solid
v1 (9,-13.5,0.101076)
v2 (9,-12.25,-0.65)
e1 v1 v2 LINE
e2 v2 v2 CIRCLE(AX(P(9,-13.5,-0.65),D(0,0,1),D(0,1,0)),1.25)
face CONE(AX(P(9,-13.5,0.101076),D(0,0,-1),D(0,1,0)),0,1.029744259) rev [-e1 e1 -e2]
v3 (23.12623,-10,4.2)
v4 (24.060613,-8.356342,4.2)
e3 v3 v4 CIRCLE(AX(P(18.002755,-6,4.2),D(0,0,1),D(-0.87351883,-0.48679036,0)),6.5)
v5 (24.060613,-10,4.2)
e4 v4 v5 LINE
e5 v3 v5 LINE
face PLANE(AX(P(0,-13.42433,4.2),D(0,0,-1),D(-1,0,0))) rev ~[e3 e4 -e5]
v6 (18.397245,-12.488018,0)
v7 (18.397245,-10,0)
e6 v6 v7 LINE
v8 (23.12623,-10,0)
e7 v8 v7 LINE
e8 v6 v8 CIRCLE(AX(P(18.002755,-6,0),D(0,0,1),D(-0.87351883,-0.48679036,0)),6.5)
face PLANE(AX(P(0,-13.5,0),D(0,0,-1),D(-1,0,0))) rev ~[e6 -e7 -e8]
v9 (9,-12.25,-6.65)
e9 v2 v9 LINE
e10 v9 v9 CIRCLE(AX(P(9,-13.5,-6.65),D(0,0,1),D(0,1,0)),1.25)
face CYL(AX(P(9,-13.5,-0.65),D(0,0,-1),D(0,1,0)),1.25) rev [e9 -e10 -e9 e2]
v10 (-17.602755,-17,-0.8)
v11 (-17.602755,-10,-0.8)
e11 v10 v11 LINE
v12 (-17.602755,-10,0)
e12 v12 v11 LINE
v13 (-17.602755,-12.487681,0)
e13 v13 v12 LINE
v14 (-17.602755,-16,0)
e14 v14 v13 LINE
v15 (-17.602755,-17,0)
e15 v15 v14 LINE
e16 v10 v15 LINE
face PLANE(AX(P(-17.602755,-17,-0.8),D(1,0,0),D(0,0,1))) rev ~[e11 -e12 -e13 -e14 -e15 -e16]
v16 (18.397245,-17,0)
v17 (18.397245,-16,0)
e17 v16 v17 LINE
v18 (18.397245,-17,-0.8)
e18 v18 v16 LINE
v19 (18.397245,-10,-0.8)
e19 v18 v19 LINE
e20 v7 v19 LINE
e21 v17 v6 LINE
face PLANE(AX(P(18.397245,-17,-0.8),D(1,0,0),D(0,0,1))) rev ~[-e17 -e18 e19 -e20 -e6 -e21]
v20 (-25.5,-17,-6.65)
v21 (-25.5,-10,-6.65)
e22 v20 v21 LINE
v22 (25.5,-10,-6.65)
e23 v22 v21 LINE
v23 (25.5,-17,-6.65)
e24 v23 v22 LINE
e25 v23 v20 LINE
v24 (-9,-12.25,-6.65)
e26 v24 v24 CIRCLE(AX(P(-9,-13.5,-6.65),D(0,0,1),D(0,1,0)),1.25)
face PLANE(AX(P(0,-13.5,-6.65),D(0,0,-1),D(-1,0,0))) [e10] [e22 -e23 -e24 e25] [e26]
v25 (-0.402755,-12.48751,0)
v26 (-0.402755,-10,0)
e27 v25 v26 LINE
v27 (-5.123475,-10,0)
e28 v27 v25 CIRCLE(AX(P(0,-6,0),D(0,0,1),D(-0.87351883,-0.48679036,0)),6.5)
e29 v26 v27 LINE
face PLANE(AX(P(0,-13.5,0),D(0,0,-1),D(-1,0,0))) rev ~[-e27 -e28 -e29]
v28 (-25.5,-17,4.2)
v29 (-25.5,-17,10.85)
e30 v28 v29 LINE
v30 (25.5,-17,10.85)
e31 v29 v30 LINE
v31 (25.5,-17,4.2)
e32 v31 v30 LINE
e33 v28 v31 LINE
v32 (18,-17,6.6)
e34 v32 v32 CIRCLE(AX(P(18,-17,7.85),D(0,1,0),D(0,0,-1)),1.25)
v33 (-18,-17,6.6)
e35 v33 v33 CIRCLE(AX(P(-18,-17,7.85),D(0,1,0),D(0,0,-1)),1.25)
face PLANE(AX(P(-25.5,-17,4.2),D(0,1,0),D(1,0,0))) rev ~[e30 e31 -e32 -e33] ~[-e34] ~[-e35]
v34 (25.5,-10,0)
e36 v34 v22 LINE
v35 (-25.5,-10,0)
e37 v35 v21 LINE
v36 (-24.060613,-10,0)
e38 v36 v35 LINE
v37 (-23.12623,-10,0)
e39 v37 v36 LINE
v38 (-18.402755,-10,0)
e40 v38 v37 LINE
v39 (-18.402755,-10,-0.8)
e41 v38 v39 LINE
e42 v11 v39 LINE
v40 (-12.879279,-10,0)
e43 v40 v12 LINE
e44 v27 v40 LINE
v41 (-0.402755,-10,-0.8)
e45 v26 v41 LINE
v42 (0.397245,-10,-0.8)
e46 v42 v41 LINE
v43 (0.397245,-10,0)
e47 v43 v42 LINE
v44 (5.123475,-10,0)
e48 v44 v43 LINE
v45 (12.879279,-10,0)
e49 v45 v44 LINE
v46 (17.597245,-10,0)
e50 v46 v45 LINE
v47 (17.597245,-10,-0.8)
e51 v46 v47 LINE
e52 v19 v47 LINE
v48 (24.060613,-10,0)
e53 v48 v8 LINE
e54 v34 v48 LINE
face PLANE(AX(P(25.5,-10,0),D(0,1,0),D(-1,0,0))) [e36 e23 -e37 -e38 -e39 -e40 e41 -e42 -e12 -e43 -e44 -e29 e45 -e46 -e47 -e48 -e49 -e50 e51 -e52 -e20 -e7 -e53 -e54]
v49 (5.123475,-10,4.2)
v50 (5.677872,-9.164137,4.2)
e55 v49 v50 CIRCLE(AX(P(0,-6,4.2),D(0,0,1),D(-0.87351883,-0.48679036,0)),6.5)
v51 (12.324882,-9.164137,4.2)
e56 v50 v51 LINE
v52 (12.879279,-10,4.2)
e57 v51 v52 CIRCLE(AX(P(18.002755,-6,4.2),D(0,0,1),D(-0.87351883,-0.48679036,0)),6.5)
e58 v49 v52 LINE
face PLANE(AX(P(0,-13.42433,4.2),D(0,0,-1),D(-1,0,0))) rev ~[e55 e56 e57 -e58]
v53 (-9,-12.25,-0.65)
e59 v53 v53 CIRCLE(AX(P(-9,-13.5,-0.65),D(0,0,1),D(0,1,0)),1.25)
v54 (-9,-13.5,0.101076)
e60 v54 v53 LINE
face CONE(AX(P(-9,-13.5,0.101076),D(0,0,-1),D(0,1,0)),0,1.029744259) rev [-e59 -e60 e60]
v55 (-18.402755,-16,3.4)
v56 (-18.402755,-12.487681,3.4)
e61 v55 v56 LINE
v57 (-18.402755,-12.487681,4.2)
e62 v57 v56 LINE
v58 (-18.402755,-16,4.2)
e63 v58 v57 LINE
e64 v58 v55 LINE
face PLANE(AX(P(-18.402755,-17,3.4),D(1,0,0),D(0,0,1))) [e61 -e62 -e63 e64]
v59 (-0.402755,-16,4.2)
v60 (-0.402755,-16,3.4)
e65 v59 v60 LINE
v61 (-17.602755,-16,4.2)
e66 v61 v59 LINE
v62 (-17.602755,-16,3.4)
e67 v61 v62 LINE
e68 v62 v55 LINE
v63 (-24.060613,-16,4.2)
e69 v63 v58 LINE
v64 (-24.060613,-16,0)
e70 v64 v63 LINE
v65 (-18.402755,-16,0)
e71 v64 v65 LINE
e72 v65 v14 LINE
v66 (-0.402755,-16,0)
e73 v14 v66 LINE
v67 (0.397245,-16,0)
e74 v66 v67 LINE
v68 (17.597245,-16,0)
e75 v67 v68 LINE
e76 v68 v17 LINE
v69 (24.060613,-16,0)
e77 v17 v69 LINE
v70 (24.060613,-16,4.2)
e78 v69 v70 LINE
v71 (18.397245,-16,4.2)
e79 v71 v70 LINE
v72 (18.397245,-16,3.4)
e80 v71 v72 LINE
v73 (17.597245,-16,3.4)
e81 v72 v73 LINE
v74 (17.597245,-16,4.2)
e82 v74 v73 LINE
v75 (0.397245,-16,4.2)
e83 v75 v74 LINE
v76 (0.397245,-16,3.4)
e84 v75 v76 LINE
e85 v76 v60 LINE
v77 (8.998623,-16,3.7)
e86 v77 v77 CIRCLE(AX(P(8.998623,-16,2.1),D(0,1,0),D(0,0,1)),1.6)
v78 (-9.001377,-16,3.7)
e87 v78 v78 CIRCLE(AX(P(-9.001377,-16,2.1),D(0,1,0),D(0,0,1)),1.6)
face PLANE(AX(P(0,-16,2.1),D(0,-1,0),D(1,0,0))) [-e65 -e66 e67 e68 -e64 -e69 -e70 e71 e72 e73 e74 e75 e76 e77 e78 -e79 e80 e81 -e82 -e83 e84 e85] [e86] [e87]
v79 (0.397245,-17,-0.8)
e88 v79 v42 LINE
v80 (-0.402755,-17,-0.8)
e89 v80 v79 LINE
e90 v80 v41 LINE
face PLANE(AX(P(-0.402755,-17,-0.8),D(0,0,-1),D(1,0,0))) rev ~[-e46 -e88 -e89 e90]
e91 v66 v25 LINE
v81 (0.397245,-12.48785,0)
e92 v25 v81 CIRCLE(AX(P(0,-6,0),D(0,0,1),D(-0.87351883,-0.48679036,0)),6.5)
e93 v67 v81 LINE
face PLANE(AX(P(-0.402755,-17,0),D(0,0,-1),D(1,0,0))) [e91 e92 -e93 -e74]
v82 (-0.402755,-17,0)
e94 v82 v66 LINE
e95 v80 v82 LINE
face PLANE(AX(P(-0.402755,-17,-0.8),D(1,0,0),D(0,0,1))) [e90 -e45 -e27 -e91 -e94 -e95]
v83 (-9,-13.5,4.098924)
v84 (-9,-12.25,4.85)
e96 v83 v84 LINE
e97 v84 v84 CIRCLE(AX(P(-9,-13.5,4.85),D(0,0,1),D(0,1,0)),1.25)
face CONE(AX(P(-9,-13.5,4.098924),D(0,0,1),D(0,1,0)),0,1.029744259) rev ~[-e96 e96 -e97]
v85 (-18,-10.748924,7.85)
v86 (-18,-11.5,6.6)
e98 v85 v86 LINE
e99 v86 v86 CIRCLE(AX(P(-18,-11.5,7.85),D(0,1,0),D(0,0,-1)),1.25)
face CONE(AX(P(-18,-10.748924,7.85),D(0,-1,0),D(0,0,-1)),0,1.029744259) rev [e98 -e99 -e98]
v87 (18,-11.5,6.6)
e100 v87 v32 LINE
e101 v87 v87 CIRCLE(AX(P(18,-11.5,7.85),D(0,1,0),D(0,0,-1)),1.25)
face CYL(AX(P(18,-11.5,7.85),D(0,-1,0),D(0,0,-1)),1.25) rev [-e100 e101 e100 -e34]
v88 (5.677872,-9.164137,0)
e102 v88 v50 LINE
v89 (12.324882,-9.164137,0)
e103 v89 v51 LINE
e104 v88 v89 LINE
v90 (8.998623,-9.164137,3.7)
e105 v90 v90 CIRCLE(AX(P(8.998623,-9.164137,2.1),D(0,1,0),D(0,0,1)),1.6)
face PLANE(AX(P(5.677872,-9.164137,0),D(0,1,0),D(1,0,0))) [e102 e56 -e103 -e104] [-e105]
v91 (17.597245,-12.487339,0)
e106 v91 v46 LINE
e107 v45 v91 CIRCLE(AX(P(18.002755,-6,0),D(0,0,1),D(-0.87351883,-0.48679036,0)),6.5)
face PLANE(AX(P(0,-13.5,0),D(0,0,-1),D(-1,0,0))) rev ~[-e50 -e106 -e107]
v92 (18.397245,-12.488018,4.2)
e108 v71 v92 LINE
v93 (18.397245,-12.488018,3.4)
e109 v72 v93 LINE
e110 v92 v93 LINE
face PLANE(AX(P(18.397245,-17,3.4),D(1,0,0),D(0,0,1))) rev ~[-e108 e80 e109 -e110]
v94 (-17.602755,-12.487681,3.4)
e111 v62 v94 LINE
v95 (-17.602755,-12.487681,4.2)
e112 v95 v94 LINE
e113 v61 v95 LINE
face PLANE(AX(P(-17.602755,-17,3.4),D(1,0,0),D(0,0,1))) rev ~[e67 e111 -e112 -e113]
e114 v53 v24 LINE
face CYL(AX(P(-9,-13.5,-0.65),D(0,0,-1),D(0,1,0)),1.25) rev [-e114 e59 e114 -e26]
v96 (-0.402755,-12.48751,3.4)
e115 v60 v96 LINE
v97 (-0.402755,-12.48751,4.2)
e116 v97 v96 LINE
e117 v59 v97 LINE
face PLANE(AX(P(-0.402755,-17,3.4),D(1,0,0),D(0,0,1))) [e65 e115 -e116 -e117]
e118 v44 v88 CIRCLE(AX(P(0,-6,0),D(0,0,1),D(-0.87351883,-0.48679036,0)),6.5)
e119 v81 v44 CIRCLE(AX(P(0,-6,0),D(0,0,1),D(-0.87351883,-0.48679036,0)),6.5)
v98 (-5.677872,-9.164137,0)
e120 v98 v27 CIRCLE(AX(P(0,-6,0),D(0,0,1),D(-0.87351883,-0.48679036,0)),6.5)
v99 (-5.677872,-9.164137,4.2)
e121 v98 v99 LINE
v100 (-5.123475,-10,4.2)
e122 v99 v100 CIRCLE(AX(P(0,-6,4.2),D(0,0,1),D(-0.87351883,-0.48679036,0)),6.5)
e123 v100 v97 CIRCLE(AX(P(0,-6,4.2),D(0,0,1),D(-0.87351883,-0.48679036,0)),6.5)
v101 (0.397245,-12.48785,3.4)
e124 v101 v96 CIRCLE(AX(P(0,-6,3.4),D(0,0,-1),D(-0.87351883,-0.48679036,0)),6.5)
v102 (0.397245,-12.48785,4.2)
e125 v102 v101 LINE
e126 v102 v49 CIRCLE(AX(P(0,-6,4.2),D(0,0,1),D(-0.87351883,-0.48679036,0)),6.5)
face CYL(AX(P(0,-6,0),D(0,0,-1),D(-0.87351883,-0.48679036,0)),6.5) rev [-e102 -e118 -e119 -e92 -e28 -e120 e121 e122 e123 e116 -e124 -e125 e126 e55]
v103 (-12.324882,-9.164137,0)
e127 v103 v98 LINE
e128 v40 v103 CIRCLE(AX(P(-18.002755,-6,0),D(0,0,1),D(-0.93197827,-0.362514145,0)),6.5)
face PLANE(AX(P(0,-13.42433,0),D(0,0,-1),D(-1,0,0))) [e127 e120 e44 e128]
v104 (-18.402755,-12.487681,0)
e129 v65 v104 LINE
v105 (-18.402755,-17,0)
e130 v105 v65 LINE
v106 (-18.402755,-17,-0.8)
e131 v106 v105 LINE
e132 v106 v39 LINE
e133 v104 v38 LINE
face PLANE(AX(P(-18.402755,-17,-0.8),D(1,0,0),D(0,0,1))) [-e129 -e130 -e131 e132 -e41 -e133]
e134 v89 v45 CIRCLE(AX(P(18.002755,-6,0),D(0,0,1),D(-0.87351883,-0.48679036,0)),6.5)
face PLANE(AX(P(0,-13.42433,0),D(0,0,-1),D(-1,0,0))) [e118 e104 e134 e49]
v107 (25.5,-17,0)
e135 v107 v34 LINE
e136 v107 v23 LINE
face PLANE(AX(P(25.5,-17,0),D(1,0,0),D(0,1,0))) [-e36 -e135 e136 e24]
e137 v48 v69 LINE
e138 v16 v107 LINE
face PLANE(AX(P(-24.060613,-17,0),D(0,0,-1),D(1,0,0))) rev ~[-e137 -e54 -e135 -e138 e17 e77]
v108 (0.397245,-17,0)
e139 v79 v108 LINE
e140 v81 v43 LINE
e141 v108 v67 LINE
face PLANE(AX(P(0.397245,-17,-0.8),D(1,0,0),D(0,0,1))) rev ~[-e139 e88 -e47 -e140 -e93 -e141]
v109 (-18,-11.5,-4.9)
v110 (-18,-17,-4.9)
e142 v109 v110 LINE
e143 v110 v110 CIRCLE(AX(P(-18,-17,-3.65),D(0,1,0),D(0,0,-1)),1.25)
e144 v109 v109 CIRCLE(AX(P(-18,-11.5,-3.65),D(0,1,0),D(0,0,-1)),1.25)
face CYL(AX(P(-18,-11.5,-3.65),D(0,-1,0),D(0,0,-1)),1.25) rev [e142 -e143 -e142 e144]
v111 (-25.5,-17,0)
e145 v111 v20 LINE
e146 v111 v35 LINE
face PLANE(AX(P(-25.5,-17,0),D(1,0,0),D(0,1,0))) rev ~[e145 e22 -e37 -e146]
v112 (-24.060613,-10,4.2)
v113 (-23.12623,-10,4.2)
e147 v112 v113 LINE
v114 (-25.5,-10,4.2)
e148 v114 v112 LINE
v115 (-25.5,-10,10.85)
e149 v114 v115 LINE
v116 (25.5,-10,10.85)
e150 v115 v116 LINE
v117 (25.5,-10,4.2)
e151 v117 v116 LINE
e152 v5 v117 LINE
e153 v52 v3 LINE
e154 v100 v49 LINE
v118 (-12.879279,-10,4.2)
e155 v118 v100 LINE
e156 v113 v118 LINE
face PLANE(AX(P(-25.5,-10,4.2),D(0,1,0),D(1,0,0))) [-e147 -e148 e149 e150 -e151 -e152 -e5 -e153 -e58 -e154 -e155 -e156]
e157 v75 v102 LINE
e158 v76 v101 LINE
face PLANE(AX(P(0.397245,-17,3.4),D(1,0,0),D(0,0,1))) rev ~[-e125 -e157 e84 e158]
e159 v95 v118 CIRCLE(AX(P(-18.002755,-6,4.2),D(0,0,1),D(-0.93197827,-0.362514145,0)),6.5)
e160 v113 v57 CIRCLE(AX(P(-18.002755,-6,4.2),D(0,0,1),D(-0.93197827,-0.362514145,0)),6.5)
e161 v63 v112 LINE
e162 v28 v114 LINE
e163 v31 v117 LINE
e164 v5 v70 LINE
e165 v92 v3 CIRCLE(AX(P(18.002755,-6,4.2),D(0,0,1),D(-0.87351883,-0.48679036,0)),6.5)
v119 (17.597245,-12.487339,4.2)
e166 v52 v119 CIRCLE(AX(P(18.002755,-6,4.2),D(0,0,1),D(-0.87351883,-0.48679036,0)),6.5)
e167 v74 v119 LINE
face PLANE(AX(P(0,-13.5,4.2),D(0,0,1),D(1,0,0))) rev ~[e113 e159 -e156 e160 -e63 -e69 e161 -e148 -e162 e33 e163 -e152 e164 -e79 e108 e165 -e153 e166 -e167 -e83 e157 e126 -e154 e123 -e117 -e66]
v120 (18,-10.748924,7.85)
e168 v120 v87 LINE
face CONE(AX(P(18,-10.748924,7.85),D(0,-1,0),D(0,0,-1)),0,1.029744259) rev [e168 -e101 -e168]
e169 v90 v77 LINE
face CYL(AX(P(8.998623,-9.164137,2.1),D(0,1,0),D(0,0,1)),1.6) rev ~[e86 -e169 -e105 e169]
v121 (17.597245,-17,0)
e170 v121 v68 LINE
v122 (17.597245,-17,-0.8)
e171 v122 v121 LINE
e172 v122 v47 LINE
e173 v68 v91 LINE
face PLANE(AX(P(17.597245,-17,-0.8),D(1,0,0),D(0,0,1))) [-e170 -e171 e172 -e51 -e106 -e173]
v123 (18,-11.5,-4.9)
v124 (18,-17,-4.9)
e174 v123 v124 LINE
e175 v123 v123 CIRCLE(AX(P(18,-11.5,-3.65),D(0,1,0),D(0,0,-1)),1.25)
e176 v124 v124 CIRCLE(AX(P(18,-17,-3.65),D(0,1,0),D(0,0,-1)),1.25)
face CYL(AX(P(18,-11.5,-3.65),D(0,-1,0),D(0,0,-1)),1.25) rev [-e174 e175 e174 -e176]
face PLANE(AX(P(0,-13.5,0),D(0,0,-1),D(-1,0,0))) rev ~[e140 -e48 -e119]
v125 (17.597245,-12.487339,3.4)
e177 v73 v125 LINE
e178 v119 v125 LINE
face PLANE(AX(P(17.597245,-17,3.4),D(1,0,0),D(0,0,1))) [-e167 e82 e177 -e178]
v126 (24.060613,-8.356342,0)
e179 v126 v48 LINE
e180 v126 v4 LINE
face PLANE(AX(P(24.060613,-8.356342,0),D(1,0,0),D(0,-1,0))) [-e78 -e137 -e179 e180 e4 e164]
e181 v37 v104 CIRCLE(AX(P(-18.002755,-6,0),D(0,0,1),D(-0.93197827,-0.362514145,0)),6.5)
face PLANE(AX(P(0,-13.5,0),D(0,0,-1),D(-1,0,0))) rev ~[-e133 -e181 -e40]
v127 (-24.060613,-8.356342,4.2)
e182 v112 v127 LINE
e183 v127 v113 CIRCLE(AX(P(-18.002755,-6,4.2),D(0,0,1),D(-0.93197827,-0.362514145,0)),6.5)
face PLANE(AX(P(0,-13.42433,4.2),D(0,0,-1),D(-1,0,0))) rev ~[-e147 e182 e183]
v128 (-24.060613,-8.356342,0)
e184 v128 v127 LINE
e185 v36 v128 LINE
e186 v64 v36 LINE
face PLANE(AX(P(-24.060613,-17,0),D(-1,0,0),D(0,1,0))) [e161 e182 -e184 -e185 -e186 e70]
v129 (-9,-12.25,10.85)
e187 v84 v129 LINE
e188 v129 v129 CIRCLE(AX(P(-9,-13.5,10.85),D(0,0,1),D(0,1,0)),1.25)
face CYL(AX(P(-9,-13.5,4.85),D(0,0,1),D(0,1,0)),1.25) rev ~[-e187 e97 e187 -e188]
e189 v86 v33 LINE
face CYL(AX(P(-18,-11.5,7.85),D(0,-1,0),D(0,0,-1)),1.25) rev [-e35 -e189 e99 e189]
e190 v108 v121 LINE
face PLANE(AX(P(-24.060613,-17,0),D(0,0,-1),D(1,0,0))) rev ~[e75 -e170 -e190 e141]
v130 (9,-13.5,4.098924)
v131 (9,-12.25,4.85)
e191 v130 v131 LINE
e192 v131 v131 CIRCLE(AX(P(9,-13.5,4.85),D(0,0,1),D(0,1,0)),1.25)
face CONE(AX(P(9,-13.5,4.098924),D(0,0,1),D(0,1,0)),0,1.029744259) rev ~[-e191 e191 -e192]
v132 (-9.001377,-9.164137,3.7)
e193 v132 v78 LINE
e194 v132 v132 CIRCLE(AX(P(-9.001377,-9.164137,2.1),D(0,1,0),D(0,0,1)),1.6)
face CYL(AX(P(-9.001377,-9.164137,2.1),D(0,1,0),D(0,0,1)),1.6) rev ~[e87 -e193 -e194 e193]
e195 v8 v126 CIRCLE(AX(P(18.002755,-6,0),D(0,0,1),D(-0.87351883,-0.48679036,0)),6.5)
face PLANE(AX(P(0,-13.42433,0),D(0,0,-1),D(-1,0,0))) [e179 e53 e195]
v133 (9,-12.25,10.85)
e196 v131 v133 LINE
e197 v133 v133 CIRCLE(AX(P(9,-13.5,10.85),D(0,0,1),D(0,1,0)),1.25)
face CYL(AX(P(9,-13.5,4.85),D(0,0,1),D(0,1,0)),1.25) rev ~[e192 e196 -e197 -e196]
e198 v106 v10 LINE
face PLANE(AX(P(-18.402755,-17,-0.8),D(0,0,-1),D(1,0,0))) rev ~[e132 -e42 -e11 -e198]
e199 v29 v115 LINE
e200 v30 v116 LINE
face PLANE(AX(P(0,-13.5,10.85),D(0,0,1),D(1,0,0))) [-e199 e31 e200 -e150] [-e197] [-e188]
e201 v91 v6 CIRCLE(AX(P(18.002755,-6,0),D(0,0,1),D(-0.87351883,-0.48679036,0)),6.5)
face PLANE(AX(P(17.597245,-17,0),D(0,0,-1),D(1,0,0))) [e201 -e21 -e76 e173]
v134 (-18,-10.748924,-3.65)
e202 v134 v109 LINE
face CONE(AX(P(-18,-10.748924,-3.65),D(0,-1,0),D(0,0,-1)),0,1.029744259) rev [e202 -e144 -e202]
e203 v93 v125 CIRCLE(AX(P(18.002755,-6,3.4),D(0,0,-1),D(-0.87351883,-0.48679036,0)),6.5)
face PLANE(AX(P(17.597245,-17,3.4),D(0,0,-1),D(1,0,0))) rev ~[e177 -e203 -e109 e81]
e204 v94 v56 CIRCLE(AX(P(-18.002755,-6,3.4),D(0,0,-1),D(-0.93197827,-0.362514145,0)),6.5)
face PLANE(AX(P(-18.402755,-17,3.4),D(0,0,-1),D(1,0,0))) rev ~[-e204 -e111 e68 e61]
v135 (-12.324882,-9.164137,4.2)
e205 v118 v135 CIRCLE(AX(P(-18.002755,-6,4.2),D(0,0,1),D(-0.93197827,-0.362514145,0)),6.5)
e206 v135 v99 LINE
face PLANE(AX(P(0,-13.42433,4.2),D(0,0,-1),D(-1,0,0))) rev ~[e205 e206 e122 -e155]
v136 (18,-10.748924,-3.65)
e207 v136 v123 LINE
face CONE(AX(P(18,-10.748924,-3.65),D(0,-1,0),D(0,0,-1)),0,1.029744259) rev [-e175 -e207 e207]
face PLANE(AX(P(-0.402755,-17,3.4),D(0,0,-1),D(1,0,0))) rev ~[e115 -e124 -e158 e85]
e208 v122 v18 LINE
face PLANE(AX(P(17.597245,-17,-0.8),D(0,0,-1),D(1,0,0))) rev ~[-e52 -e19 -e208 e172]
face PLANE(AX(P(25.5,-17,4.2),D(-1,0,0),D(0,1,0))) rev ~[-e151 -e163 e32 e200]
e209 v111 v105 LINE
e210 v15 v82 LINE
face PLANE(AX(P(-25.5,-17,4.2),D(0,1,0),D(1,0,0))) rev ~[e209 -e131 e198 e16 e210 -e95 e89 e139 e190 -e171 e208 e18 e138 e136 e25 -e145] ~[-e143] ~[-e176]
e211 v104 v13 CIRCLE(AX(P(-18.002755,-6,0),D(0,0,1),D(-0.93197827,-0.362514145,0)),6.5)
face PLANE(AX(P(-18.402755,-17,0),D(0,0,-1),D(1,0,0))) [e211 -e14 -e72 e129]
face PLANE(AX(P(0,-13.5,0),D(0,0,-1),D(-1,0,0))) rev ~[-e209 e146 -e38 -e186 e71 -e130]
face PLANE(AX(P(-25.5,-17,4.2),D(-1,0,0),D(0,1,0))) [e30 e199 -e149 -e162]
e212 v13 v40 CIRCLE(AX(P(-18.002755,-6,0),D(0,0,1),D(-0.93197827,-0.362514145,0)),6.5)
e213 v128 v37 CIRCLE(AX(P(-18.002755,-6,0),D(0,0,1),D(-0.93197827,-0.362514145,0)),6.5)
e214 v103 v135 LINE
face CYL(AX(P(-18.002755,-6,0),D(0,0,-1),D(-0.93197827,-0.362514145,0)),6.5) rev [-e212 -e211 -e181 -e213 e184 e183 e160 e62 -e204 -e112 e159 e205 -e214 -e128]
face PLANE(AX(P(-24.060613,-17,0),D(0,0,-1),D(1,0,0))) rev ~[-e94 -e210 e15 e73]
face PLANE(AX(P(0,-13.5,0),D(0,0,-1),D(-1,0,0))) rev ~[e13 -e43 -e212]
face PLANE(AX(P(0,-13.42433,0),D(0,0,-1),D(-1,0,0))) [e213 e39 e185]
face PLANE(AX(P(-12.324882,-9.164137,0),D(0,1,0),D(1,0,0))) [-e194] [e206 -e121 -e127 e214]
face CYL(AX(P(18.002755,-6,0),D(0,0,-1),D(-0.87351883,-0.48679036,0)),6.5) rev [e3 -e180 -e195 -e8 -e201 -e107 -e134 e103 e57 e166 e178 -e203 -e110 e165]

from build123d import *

# Parameters (mm, degrees)
BOSS_EXTRUDE1_DEPTH              = 4.2
SKETCH3_R                        = 1.6
CUT_EXTRUDE3_DEPTH               = 26.650611325
LPATTERN1_COUNT                  = 2
LPATTERN1_PITCH                  = 18
SKETCH6_W                        = 51
SKETCH6_H                        = 7
BOSS_EXTRUDE3_DEPTH              = 6.65
SKETCH7_W                        = 0.8
SKETCH7_H                        = 0.8
CUT_EXTRUDE7_DEPTH               = 28.734190536
SKETCH8_W                        = 51
SKETCH8_H                        = 7
BOSS_EXTRUDE4_DEPTH              = 6.65
TAP_DRILL_FOR_M3_TAP1_AT_2_COUNT = 2
TAP_DRILL_FOR_M3_TAP1_AT_2_PITCH = 18
LPATTERN2_COUNT                  = 2
LPATTERN2_PITCH                  = 36
LPATTERN2_COUNT_DIR2             = 2
LPATTERN2_PITCH_DIR2             = 11.5
SKETCH16_W                       = 48.12122682
SKETCH16_H                       = 4.2
CUT_EXTRUDE8_DEPTH               = 1


with BuildPart() as part:
    # Sketch1 → Boss-Extrude1 (new body)
    with BuildSketch(Plane.XY):
        with BuildLine():
            Line((-12.324882265, -9.164137338), (-5.677872392, -9.164137338))
            ThreePointArc((-5.677872392, -9.164137338), (0, -12.5), (5.677872392, -9.164137338))
            Line((5.677872392, -9.164137338), (12.324882265, -9.164137338))
            ThreePointArc((12.324882265, -9.164137338), (18.449107388, -12.484656447), (24.06061341, -8.356341939))
            Line((24.06061341, -8.356341939), (24.06061341, -17))
            Line((24.06061341, -17), (-24.06061341, -17))
            Line((-24.06061341, -17), (-24.06061341, -8.356341939))
            ThreePointArc((-24.06061341, -8.356341939), (-18.449107388, -12.484656447), (-12.324882265, -9.164137338))
        make_face()
    extrude(amount=BOSS_EXTRUDE1_DEPTH)

    # Sketch3 → Cut-Extrude3 (cut, through all)
    with BuildSketch(Plane(origin=(0, -9.164137338, 0), x_dir=(1, 0, 0), z_dir=(0, 1, 0))):
        with Locations(Location((-9.001377329, -2.1, 0), (0, 0, 270))):
            Circle(SKETCH3_R)
    cut_extrude3 = extrude(amount=-CUT_EXTRUDE3_DEPTH, mode=Mode.SUBTRACT)

    # LPattern1: Cut-Extrude3 ×2
    with Locations(*[(i * LPATTERN1_PITCH, 0, 0) for i in range(1, LPATTERN1_COUNT)]):
        add(cut_extrude3, mode=Mode.SUBTRACT)

    # Sketch6 → Boss-Extrude3 (add)
    with BuildSketch(Plane(origin=(0, 0, 0), x_dir=(-1, 0, 0), z_dir=(0, 0, -1))):
        with Locations((0, -13.5)):
            Rectangle(SKETCH6_W, SKETCH6_H)
    extrude(amount=BOSS_EXTRUDE3_DEPTH)

    # Sketch7 → Cut-Extrude7 (cut, through all)
    with BuildSketch(Plane.XZ.offset(17)):
        with Locations((-0.002754658, 3.8)):
            Rectangle(SKETCH7_W, SKETCH7_H)
        with Locations((-18.002754658, -0.4)):
            Rectangle(SKETCH7_W, SKETCH7_H)
        with Locations((-18.002754658, 3.8)):
            Rectangle(SKETCH7_W, SKETCH7_H)
        with Locations((-0.002754658, -0.4)):
            Rectangle(SKETCH7_W, SKETCH7_H)
        with Locations((17.997245342, 3.8)):
            Rectangle(SKETCH7_W, SKETCH7_H)
        with Locations((17.997245342, -0.4)):
            Rectangle(SKETCH7_W, SKETCH7_H)
    extrude(amount=-CUT_EXTRUDE7_DEPTH, mode=Mode.SUBTRACT)

    # Sketch8 → Boss-Extrude4 (add)
    with BuildSketch(Plane.XY.offset(4.2)):
        with Locations((0, -13.5)):
            Rectangle(SKETCH8_W, SKETCH8_H)
    extrude(amount=BOSS_EXTRUDE4_DEPTH)

    # Sketch13 → Tap Drill for M3 Tap1 (revolve, cut)
    with BuildSketch(Plane(origin=(9, -13.5, -6.65), x_dir=(0, 1, 0), z_dir=(1, 0, 0))):
        Polygon((0, 0), (0, 6.751075774), (1.25, 6), (1.25, 0), align=None)
    tap_drill_for_m3_tap1 = revolve(axis=Axis((9, -13.5, -13), (0, 0, 1)), mode=Mode.SUBTRACT)

    # Tap Drill for M3 Tap1 at 2: Tap Drill for M3 Tap1 ×2
    with Locations(*[(-i * TAP_DRILL_FOR_M3_TAP1_AT_2_PITCH, 0, 0) for i in range(1, TAP_DRILL_FOR_M3_TAP1_AT_2_COUNT)]):
        add(tap_drill_for_m3_tap1, mode=Mode.SUBTRACT)

    # Mirror2: Tap Drill for M3 Tap1 across plane
    add(tap_drill_for_m3_tap1.mirror(Plane.XY.offset(2.1)), mode=Mode.SUBTRACT)

    # Mirror2 copy 1 sketch → Mirror2 copy 1 (revolve, cut)
    with BuildSketch(Plane(origin=(-9, -13.5, 10.85), x_dir=(0, 1, 0), z_dir=(1, 0, 0))):
        Polygon((0, 0), (0, -6.751075774), (1.25, -6), (1.25, 0), align=None)
    revolve(axis=Axis((-9, -13.5, 17.2), (0, 0, 1)), mode=Mode.SUBTRACT)

    # Sketch15 → M3 Tapped Hole3 (revolve, cut)
    with BuildSketch(Plane(origin=(-18, -17, 7.85), x_dir=(0, 0, -1), z_dir=(1, 0, 0))):
        Polygon((0, 0), (0, 6.251075774), (1.25, 5.5), (1.25, 0), align=None)
    m3_tapped_hole3 = revolve(axis=Axis((-18, -23.35, 7.85), (0, 1, 0)), mode=Mode.SUBTRACT)

    # LPattern2: M3 Tapped Hole3 2 × 2
    with Locations(*[(i * LPATTERN2_PITCH, 0, -j * LPATTERN2_PITCH_DIR2) for i in range(LPATTERN2_COUNT) for j in range(LPATTERN2_COUNT_DIR2) if (i, j) != (0, 0)]):
        add(m3_tapped_hole3, mode=Mode.SUBTRACT)

    # Sketch16 → Cut-Extrude8 (cut)
    with BuildSketch(Plane.XZ.offset(17)):
        with Locations((0, 2.1)):
            Rectangle(SKETCH16_W, SKETCH16_H)
    extrude(amount=-CUT_EXTRUDE8_DEPTH, mode=Mode.SUBTRACT)


solid = part.part
